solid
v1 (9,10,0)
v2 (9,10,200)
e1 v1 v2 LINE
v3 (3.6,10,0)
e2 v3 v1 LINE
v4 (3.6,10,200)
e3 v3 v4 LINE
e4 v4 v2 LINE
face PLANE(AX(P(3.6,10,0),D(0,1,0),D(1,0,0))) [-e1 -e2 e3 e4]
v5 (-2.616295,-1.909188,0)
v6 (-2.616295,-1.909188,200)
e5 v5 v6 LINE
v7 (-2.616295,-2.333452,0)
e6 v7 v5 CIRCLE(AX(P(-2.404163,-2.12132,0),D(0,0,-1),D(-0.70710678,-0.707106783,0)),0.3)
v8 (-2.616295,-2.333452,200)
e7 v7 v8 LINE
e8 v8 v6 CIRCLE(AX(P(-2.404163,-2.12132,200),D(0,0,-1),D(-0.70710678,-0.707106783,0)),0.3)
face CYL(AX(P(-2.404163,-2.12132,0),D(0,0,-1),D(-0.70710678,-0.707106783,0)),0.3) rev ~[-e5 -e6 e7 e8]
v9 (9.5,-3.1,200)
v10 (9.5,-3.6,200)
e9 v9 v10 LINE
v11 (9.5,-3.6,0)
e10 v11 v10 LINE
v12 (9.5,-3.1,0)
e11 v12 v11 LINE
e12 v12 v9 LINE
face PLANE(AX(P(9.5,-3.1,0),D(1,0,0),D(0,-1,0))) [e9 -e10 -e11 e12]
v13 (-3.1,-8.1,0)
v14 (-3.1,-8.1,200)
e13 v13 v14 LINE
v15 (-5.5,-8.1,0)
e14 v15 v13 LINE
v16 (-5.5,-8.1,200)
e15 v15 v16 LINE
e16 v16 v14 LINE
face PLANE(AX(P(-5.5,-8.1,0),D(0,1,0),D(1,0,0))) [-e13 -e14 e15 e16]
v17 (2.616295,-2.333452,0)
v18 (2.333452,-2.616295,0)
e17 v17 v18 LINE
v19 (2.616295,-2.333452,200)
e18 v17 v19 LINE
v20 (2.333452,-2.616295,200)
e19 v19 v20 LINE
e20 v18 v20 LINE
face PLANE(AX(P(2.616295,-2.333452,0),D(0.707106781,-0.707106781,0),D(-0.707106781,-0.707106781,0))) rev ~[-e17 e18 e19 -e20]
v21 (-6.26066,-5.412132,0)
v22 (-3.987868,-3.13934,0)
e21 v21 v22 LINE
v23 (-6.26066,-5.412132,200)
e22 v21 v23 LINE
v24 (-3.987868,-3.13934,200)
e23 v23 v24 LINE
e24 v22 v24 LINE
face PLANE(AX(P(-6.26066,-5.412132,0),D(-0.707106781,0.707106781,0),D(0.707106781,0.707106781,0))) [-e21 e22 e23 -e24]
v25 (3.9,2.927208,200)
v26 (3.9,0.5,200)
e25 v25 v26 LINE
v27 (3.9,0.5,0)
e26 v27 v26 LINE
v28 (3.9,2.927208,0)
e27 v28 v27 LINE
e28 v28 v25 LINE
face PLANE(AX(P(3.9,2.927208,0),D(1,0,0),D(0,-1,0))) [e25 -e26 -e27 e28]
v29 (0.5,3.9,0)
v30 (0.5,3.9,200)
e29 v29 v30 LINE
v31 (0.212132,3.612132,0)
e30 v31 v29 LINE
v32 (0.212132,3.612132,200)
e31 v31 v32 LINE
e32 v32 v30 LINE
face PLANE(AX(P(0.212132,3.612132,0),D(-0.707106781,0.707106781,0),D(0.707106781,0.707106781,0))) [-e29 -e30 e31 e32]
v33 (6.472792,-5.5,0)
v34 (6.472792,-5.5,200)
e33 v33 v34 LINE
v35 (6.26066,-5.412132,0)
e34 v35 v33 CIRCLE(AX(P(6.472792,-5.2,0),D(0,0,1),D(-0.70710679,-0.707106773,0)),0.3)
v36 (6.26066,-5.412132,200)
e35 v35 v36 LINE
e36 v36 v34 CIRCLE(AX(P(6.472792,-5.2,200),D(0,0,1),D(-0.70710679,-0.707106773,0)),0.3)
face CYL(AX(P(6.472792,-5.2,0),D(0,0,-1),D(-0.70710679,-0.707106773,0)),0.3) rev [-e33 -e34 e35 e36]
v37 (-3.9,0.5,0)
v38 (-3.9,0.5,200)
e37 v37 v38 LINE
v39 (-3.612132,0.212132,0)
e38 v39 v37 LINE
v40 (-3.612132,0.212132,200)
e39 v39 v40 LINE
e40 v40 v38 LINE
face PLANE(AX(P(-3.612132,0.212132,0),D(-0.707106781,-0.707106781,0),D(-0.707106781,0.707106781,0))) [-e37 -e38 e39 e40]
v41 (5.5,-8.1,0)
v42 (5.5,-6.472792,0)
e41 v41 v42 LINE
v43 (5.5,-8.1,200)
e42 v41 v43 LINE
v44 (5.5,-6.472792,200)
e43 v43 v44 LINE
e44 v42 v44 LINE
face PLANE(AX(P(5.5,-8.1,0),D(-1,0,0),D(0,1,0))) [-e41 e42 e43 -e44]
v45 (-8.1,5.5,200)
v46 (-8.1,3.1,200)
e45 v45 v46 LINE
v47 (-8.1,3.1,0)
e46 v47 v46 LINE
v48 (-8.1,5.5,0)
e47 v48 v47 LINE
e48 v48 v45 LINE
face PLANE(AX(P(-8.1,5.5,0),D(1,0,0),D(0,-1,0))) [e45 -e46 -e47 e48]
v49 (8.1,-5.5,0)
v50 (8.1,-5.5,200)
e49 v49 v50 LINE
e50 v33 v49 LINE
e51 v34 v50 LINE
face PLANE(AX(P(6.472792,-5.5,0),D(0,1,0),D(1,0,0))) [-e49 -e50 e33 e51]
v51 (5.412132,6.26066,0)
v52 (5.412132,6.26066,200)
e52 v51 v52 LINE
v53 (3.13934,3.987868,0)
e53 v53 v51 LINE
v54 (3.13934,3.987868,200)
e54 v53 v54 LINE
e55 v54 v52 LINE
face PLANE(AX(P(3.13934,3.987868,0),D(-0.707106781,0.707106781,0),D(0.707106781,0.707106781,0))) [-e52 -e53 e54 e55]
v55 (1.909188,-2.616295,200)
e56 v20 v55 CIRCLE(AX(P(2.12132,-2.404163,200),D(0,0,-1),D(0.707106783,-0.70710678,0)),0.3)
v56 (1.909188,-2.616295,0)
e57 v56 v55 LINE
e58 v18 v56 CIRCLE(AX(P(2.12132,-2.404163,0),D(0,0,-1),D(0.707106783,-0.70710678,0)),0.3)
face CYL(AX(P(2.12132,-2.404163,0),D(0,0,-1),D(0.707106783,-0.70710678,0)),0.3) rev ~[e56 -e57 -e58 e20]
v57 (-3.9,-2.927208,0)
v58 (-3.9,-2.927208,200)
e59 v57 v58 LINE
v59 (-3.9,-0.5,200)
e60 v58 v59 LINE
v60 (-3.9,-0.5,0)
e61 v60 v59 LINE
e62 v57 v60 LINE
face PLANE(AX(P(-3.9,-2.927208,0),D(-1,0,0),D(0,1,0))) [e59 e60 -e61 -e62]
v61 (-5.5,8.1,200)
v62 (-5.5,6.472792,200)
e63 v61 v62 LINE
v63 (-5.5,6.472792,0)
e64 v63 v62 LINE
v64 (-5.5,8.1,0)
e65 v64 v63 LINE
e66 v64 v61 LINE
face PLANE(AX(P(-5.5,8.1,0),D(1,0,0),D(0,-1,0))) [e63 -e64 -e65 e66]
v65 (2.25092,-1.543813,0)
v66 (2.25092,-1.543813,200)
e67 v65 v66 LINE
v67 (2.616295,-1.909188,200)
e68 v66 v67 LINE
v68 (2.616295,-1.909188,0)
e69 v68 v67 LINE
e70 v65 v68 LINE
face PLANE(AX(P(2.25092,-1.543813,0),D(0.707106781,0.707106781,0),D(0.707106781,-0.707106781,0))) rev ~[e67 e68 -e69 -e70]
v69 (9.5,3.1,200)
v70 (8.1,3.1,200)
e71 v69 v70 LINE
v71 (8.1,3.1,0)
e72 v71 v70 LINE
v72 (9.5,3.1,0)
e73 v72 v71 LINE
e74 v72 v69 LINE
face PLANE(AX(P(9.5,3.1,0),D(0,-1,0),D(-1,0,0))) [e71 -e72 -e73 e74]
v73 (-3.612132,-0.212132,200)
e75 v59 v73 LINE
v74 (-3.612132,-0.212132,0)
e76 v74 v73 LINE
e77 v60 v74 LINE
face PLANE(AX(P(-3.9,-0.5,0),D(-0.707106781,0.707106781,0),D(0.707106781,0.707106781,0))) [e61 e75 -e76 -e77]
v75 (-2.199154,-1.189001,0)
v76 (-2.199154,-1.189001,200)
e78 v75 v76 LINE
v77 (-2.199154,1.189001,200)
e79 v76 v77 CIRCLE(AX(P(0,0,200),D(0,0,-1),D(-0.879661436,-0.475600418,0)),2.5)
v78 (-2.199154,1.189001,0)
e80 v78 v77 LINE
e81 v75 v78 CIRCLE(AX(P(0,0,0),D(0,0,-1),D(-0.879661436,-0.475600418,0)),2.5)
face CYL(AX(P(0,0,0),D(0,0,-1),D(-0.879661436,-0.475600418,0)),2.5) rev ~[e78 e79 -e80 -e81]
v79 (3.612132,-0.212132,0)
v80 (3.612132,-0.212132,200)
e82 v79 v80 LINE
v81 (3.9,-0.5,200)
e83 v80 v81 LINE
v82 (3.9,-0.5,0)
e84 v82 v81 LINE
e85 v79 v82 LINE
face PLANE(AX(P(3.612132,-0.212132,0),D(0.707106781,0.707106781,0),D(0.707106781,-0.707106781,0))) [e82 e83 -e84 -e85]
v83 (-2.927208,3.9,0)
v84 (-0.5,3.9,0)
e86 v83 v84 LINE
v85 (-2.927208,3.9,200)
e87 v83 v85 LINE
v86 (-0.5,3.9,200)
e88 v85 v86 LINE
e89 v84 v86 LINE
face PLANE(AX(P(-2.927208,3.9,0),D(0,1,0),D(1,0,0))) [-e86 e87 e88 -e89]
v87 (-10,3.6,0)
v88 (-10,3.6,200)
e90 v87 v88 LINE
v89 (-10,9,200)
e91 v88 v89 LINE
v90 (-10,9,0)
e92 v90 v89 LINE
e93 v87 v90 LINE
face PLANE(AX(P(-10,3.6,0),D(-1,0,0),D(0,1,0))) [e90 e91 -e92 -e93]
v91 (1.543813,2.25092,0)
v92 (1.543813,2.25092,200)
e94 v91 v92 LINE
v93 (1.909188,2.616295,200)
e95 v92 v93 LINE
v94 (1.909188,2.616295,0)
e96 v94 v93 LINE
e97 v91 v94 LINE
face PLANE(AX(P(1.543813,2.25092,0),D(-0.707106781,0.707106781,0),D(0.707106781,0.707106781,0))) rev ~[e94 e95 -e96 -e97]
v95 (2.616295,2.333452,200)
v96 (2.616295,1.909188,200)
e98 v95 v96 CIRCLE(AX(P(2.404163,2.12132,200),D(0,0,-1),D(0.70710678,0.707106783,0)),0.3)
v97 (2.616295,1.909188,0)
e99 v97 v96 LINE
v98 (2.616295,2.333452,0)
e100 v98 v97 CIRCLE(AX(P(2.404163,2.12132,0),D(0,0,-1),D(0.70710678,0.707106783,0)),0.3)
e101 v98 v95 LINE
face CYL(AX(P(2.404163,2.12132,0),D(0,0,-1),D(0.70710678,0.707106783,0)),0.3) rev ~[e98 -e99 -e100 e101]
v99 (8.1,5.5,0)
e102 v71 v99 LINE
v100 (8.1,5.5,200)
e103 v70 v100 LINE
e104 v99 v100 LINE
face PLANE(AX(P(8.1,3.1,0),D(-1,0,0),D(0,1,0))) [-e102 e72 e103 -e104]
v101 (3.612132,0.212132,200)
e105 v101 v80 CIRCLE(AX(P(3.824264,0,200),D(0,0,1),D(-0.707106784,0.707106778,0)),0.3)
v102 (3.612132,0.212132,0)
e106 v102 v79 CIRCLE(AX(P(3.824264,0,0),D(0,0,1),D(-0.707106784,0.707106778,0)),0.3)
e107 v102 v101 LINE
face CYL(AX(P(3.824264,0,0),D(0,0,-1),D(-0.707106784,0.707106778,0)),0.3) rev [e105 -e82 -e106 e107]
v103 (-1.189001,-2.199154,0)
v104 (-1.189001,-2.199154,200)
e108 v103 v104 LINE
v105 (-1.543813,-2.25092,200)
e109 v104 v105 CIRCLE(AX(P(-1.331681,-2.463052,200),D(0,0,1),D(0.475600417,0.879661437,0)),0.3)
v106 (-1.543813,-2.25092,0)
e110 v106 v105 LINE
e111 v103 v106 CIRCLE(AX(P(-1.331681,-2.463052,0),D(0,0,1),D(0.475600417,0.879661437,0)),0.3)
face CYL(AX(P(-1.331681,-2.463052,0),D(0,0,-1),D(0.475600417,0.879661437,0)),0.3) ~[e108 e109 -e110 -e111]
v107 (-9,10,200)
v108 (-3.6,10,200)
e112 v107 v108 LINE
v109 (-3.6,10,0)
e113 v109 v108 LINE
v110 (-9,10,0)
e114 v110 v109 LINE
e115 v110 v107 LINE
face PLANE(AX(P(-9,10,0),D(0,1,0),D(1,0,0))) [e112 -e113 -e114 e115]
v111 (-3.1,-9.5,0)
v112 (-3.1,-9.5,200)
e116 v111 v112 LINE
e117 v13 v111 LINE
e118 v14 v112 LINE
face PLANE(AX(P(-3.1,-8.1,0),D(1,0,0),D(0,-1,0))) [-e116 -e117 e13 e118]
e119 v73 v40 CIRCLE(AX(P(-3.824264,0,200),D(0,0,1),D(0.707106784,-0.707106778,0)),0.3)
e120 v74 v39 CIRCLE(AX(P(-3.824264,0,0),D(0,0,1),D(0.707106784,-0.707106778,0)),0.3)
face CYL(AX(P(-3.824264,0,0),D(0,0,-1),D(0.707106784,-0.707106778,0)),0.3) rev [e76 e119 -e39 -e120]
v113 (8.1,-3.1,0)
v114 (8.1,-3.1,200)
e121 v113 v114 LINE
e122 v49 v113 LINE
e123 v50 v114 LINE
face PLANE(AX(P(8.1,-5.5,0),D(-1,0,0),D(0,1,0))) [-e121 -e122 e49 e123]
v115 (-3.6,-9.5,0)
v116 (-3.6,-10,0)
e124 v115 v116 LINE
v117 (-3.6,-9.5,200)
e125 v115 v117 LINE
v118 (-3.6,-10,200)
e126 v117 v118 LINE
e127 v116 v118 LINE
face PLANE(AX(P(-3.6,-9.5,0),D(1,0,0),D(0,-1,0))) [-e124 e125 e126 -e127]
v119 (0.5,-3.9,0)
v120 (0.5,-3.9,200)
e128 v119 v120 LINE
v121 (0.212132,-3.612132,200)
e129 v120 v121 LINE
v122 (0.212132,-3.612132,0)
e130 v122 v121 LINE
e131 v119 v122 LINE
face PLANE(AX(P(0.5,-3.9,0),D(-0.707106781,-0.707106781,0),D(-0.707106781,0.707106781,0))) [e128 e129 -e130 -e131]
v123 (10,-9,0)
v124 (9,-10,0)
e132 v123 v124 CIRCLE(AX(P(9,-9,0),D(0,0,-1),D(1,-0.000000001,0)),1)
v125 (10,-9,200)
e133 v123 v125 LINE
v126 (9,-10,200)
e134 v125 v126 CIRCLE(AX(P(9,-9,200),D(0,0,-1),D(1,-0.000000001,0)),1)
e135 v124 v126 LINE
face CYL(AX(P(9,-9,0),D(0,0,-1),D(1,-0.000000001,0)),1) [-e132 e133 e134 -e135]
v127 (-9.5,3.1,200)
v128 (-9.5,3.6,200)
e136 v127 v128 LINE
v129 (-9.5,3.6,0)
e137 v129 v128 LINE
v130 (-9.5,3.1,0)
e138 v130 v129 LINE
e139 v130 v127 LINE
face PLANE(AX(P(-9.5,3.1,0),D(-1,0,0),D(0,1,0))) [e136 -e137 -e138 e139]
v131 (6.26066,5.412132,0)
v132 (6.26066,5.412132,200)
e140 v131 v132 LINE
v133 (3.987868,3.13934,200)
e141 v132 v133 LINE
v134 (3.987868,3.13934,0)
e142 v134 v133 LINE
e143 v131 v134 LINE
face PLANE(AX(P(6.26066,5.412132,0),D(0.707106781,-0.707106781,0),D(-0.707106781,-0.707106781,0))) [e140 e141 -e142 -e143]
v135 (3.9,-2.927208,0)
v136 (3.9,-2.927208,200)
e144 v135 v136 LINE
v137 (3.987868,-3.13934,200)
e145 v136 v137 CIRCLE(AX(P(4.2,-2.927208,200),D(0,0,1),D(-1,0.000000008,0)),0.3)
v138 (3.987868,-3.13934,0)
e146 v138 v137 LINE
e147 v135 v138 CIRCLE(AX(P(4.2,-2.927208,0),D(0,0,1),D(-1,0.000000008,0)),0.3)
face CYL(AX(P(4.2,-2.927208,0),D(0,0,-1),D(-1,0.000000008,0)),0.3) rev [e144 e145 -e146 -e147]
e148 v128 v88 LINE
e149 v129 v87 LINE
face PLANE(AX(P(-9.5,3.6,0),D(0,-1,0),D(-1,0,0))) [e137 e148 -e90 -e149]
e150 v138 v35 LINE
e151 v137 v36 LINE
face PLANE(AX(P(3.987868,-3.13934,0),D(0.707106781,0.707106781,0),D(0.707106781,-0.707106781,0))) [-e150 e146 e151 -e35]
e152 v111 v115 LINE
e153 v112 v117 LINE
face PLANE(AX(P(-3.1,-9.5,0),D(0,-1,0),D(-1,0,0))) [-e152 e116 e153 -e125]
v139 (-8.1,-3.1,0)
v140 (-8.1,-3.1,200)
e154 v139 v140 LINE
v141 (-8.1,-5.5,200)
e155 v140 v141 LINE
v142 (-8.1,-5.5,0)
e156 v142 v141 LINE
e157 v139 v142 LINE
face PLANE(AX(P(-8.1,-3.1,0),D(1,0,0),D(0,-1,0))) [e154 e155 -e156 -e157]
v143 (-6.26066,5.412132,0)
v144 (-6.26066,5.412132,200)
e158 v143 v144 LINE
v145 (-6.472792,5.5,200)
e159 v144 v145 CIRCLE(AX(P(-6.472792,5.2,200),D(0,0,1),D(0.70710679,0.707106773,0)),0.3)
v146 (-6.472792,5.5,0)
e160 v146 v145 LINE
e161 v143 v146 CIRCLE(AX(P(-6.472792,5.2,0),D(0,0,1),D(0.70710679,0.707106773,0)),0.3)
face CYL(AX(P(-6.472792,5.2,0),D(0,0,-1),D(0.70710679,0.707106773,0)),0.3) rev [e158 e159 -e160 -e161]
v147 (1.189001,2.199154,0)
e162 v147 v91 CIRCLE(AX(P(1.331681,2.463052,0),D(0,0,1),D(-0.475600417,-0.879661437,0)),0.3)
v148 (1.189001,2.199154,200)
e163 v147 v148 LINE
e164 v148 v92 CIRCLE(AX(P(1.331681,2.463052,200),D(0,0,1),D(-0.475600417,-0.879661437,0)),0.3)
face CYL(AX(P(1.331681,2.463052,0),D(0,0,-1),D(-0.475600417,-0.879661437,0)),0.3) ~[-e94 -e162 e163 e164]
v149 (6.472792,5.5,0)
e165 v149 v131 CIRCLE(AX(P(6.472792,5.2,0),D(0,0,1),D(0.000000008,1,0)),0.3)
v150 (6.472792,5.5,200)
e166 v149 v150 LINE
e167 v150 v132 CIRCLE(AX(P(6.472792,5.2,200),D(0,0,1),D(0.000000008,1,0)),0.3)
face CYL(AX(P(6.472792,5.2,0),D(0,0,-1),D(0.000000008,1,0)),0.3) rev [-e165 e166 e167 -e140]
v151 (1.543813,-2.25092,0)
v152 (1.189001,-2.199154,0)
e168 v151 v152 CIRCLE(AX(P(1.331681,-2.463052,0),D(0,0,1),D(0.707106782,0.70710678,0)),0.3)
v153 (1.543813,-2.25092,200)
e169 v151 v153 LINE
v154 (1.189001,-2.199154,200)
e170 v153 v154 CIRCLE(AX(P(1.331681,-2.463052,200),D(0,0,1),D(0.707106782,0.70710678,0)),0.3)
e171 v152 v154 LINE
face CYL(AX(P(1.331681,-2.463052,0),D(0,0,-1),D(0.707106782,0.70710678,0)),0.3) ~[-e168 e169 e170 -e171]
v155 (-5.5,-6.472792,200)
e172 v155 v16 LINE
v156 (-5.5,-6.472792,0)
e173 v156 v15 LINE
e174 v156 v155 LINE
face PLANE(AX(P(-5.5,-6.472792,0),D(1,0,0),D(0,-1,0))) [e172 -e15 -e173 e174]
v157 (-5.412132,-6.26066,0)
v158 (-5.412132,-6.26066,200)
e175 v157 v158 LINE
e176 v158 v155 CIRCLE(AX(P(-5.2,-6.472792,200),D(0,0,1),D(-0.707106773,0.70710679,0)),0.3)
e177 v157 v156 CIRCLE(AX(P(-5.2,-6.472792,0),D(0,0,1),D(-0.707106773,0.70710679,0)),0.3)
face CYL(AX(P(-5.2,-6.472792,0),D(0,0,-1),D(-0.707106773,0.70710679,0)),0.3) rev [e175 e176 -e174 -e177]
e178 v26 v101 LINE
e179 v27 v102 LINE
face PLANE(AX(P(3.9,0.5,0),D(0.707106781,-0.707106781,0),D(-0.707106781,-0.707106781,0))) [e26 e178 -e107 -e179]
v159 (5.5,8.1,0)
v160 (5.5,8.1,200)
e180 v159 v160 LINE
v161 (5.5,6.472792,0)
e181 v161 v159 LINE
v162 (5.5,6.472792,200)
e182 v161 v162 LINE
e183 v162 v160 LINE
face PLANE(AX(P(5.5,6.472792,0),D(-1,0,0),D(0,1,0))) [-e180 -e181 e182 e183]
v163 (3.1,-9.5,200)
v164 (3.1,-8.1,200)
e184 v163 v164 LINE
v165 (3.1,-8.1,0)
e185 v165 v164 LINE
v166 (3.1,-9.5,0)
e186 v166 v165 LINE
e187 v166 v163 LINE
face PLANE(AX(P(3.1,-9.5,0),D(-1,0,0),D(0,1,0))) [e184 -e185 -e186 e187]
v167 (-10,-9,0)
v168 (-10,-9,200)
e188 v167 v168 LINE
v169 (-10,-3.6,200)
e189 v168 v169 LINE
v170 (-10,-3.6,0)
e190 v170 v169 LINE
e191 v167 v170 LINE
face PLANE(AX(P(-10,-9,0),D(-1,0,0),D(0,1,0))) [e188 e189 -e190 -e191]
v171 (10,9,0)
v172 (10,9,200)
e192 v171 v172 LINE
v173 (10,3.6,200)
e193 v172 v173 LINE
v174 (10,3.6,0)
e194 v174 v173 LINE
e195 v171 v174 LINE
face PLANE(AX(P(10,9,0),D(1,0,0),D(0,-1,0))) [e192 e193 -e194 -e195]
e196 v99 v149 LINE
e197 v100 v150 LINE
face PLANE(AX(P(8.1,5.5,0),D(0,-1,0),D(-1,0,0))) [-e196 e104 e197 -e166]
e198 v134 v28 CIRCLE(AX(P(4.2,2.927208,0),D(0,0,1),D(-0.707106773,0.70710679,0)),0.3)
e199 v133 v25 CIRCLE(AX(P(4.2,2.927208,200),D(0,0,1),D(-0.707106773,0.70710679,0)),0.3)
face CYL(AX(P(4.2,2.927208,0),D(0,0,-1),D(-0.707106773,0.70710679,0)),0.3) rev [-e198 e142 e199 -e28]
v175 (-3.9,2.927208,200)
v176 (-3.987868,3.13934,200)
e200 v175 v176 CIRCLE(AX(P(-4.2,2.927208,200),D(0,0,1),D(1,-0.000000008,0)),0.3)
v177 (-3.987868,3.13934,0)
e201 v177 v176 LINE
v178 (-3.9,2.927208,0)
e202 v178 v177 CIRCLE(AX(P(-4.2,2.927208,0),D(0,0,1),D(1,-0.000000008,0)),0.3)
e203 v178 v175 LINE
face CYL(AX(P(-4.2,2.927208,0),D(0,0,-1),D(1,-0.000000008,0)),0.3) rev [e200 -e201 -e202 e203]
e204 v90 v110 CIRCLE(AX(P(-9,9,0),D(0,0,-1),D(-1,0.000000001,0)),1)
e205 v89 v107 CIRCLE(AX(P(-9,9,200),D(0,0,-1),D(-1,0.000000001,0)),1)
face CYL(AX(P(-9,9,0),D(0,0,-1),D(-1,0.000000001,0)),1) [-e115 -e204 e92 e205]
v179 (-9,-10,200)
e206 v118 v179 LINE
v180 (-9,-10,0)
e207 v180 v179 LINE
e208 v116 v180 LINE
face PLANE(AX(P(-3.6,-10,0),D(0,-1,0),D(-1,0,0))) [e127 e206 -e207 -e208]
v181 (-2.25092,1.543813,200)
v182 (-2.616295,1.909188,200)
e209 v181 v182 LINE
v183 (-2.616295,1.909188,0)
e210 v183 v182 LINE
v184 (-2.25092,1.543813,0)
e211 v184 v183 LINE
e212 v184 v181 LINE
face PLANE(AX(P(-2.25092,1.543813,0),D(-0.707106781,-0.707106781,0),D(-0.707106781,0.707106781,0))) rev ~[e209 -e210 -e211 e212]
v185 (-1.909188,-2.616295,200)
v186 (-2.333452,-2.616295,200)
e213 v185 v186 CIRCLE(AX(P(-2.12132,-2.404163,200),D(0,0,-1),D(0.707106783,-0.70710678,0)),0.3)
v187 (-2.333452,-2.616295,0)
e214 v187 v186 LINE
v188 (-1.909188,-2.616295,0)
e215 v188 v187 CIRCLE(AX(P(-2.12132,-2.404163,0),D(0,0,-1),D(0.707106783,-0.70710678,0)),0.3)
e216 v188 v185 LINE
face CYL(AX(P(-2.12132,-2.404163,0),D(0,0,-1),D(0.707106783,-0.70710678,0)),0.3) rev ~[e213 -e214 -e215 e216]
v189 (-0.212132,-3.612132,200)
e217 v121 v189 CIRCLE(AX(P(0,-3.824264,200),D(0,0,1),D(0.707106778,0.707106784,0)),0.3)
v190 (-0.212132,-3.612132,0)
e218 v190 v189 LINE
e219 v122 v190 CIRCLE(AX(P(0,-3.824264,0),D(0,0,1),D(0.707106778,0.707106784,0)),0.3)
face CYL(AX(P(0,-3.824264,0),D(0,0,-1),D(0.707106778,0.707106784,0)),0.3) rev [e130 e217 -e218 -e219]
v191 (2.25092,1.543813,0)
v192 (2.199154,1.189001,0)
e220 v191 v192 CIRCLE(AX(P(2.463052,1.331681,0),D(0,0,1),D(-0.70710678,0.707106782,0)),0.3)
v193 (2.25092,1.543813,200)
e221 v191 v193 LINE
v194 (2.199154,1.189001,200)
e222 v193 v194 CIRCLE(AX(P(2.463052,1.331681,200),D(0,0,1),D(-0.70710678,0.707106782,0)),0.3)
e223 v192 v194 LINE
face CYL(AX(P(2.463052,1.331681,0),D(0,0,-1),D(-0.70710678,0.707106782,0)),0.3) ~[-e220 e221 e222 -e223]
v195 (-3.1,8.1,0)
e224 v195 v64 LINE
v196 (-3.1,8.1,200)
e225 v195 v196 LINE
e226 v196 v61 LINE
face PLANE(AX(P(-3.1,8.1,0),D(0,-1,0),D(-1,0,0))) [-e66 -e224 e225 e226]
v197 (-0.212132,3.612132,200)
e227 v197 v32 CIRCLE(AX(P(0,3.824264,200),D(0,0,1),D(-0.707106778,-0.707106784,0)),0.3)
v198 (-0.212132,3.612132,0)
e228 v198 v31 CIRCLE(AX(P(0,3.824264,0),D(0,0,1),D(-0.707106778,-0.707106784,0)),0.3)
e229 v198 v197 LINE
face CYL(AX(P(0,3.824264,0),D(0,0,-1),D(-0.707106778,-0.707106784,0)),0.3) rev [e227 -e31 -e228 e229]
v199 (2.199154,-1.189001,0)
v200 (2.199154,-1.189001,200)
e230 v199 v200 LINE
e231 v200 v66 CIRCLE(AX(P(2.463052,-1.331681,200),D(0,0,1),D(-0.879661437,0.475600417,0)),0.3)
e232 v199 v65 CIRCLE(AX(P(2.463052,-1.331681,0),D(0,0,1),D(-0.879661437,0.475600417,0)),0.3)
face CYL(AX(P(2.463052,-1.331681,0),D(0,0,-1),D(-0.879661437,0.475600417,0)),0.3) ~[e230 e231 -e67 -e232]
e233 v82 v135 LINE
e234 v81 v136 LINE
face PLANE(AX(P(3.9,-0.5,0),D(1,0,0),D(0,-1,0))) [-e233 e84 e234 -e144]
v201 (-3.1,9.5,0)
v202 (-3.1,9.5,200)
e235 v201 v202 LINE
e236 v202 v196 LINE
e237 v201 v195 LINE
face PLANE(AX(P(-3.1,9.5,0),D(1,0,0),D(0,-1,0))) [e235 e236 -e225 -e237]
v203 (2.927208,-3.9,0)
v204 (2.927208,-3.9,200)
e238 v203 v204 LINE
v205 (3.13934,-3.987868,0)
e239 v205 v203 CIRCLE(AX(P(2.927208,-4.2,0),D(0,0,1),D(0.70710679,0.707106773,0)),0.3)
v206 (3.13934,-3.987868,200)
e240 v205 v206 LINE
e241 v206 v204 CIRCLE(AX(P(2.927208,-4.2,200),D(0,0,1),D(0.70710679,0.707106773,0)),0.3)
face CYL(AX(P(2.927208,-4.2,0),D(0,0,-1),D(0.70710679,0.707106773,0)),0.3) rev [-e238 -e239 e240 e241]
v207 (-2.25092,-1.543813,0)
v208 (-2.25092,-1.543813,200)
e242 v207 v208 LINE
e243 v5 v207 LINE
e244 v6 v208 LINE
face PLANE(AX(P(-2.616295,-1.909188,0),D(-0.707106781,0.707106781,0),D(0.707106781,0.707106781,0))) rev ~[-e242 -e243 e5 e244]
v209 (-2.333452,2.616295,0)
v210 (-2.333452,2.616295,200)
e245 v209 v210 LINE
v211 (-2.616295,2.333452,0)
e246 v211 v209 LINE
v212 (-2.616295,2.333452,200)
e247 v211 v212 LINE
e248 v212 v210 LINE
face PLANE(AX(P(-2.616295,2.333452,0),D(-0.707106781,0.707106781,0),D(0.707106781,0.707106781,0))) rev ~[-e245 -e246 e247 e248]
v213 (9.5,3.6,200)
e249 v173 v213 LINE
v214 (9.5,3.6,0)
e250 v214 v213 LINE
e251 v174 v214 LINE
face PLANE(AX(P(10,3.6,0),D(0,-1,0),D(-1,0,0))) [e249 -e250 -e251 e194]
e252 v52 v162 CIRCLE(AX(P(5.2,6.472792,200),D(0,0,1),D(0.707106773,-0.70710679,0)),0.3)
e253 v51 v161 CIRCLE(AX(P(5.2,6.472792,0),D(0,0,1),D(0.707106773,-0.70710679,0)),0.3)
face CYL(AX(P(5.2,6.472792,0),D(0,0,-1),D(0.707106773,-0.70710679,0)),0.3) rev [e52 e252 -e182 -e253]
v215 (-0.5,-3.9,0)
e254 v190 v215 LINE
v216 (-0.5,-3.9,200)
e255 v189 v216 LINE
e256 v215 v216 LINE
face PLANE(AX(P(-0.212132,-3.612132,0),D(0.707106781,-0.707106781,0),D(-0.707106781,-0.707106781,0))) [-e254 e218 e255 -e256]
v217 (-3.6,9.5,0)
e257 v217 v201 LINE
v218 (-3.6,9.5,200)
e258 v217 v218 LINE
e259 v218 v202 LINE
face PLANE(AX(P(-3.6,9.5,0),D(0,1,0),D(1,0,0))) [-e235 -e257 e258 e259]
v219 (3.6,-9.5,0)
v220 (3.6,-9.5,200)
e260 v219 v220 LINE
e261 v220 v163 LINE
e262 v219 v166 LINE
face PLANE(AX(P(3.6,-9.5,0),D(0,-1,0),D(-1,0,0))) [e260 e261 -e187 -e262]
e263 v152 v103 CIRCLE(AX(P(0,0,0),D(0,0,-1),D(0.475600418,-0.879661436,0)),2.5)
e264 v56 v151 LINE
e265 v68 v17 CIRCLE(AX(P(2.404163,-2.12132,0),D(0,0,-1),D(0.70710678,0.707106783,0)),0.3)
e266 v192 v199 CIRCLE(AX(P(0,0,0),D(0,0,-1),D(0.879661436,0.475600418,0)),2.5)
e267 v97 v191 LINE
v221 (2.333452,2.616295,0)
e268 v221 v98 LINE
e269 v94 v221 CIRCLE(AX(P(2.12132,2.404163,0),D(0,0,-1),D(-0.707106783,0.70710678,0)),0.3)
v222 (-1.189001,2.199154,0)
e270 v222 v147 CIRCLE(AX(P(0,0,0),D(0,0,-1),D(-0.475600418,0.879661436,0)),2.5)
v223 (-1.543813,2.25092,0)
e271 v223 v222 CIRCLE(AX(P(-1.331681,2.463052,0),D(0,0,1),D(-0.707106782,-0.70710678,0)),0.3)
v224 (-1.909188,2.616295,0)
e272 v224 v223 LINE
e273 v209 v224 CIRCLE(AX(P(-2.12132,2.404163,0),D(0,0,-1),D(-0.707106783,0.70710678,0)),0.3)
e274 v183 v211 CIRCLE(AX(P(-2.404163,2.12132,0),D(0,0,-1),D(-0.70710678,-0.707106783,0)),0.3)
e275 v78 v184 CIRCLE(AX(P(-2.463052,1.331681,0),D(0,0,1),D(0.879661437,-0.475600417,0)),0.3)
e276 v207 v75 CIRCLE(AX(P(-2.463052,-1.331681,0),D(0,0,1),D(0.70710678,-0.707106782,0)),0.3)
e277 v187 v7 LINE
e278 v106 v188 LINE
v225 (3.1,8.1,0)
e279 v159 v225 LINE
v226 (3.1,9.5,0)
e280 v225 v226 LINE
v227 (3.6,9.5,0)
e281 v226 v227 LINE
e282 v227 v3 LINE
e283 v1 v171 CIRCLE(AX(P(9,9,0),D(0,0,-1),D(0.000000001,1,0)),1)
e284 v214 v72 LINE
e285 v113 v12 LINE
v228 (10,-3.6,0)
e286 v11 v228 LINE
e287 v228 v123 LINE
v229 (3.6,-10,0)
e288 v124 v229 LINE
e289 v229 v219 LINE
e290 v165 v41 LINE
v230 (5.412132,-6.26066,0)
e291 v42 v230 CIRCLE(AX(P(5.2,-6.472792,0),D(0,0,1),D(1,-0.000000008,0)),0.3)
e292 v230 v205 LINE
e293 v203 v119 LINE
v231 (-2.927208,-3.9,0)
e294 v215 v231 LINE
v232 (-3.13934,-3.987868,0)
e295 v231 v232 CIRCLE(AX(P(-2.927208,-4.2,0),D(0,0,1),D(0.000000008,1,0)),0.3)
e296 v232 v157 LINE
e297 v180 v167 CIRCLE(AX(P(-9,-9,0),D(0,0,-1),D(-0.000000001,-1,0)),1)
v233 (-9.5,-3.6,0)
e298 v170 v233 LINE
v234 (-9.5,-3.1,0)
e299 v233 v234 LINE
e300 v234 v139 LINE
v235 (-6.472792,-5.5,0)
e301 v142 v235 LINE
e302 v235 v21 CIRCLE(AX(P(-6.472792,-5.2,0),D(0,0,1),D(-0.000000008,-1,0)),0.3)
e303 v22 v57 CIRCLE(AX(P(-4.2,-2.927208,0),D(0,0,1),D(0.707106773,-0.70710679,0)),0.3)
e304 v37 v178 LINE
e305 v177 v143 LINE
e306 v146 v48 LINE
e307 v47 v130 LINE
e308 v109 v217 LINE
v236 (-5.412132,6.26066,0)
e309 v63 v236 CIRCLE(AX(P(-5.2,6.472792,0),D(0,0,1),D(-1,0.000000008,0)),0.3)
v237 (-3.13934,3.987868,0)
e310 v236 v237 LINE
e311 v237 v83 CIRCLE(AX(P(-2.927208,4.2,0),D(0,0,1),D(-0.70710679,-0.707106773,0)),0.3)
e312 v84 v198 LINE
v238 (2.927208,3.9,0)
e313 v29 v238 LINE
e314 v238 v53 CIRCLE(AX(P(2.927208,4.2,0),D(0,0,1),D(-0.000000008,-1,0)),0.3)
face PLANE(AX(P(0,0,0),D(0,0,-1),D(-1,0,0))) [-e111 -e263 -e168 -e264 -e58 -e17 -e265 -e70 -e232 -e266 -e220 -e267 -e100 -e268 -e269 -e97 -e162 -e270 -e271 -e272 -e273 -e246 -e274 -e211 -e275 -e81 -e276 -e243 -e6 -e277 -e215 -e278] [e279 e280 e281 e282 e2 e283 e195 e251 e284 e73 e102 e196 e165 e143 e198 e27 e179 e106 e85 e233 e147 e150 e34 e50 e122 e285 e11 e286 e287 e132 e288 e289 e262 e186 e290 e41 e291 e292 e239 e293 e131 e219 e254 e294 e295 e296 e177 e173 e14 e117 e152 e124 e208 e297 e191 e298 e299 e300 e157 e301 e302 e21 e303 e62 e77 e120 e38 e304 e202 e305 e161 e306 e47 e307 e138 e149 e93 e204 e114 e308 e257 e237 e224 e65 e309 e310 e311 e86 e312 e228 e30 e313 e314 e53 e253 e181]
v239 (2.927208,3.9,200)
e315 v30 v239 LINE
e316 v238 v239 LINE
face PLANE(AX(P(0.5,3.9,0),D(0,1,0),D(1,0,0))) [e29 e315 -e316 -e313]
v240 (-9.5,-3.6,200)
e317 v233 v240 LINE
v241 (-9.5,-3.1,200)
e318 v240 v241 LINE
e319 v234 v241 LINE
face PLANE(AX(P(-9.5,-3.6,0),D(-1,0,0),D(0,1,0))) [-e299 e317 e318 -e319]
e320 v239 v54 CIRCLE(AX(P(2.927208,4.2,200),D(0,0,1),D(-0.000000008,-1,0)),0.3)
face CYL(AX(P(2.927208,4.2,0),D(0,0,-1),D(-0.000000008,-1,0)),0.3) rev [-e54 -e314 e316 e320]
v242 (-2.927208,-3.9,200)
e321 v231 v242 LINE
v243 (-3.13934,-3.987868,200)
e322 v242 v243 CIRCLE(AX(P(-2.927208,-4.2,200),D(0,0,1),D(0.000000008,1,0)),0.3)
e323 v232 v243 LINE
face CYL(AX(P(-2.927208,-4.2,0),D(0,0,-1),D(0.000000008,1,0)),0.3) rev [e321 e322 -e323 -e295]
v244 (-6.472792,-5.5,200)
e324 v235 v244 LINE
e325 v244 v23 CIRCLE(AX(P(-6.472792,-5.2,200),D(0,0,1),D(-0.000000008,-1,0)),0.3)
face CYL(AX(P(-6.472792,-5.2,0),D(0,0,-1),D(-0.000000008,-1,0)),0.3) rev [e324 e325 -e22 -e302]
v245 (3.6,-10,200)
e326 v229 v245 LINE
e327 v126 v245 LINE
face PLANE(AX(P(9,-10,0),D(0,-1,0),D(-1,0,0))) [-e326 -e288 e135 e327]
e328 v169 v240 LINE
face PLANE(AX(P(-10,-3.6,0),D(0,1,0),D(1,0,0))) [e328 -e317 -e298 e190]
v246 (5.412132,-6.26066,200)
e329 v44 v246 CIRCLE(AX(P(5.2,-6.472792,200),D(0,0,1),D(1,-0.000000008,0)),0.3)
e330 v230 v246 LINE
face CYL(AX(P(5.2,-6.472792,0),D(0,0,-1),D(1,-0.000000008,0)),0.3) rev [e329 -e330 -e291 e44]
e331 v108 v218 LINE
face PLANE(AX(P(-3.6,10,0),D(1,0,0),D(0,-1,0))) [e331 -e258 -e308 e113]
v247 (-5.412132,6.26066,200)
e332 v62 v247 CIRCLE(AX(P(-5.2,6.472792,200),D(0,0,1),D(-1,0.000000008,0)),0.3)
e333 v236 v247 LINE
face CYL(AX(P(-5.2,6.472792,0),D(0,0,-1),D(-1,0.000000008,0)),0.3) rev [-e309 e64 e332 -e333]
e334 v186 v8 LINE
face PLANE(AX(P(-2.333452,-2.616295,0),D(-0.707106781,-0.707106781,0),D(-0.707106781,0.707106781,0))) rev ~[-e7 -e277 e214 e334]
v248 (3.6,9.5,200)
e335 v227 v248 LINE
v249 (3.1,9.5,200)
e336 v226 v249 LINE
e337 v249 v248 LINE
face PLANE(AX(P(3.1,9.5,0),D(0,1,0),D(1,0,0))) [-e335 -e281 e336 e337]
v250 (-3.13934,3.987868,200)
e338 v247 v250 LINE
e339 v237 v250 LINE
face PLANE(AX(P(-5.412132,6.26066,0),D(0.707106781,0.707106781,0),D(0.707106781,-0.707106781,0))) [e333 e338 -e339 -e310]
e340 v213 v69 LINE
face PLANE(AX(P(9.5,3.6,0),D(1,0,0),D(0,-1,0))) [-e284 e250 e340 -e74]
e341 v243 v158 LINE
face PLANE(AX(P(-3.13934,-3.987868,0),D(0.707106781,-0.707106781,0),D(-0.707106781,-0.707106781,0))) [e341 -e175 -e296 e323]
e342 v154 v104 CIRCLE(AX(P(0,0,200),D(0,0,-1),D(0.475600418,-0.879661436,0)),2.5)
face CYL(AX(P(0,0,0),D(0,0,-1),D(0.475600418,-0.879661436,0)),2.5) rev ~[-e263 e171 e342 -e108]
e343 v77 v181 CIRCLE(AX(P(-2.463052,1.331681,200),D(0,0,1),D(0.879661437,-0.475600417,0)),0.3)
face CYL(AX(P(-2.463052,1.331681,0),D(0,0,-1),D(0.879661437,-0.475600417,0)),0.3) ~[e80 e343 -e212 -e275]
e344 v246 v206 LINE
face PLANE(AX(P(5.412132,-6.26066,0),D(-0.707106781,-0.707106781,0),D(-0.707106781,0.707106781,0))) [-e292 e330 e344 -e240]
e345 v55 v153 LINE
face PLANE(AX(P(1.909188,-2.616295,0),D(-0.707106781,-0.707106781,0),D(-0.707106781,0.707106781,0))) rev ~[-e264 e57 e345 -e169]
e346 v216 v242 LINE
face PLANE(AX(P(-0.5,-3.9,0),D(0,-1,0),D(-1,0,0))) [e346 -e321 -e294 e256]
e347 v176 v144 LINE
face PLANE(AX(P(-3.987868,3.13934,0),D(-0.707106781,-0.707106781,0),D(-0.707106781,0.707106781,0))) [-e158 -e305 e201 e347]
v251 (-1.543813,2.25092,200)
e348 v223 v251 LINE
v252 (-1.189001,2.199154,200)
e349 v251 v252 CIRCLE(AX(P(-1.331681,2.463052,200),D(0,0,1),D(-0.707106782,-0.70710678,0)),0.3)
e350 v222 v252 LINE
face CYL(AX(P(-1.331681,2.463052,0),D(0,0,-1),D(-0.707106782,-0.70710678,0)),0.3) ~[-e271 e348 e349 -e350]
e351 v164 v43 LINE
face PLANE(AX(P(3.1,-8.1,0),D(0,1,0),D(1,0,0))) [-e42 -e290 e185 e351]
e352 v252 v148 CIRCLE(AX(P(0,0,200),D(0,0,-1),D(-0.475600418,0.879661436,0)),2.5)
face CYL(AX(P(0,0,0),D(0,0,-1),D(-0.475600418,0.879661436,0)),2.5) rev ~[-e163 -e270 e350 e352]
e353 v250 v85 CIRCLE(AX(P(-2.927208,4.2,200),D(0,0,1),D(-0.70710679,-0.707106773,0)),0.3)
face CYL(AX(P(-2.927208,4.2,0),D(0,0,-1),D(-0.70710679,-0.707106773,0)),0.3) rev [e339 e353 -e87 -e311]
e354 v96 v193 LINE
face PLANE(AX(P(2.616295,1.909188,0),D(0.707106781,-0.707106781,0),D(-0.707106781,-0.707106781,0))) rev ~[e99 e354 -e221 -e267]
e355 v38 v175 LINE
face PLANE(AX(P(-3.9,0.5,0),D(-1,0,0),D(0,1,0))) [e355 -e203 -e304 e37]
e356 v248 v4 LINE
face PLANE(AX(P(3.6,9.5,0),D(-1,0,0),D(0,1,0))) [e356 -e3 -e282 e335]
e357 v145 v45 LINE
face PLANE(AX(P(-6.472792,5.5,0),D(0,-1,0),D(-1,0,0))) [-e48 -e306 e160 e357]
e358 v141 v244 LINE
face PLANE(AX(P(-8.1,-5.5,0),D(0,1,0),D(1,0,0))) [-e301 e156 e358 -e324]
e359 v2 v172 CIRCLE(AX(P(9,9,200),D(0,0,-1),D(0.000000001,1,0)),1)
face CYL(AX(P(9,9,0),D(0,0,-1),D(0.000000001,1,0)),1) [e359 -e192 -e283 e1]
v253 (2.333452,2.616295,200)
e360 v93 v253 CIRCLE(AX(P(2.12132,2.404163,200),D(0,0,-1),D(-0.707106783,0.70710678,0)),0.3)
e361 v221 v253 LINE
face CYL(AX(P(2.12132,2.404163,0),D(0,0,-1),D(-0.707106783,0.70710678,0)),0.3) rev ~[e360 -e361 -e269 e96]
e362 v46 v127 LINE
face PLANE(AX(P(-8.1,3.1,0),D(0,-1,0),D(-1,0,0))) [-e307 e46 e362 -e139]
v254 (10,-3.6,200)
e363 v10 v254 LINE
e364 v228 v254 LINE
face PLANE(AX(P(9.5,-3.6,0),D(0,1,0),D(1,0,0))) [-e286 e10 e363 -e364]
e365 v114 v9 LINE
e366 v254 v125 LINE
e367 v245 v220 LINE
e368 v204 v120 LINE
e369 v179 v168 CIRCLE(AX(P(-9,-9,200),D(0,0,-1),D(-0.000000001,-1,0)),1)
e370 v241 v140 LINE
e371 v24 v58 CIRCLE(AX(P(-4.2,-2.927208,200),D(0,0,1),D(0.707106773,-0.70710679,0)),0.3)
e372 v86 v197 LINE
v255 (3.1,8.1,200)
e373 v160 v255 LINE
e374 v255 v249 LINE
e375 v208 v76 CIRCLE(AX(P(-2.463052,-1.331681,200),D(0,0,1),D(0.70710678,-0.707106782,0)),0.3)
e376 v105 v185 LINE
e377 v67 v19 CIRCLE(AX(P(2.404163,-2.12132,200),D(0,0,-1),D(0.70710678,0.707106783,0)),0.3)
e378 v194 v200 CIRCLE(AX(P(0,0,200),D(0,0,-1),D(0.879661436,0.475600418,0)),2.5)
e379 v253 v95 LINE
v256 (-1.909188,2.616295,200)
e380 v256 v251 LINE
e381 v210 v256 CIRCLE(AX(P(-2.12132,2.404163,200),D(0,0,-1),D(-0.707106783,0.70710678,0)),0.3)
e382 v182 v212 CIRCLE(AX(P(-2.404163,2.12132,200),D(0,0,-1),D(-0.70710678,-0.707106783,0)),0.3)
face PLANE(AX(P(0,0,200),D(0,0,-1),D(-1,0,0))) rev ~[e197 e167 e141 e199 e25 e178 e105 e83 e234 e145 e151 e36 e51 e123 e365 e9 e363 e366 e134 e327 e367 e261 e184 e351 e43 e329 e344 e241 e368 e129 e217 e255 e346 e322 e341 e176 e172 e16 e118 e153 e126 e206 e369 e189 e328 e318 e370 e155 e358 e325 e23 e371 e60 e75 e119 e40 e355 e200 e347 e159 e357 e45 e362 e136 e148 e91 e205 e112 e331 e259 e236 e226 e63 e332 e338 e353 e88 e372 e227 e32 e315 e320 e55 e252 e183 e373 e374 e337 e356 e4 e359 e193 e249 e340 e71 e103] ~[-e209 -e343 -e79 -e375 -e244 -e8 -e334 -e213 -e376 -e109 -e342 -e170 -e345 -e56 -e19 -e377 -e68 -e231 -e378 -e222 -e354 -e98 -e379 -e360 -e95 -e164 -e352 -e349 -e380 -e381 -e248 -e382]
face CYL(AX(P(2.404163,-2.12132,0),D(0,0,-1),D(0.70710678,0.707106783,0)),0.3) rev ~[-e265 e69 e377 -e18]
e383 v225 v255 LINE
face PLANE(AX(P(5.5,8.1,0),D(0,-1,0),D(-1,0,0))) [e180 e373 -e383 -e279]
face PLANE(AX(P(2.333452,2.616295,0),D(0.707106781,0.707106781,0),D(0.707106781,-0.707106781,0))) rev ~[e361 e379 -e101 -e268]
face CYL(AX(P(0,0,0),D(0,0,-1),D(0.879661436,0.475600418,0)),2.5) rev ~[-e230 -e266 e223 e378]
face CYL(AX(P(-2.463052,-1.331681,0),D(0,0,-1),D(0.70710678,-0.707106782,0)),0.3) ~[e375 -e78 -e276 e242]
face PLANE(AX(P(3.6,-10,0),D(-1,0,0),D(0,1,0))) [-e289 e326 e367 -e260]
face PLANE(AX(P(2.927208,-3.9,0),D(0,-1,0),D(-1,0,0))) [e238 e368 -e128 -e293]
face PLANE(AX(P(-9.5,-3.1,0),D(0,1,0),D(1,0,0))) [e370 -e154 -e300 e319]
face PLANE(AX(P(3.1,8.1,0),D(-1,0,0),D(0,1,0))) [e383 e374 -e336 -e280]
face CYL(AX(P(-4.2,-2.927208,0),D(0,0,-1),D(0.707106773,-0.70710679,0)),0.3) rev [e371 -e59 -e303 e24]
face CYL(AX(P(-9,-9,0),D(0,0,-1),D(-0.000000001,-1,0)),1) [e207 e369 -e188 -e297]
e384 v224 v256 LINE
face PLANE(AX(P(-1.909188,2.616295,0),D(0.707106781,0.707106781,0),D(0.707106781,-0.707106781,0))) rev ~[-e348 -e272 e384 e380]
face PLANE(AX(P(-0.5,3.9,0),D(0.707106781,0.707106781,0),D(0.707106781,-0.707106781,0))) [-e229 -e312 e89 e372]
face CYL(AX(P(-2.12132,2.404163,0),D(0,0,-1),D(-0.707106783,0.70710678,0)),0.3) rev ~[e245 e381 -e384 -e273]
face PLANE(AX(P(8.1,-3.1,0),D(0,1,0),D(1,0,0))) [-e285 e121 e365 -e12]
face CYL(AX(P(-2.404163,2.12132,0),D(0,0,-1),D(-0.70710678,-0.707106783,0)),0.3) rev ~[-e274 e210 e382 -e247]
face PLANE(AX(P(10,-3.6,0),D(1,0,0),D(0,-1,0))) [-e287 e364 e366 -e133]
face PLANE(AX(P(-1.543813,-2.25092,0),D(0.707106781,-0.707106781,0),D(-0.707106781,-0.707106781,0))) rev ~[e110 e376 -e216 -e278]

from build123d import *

# Parameters (mm, degrees)
EXTRUDE_1_DEPTH = 200


with BuildPart() as part:
    # Эскиз2 → Бобышка-Вытянуть1 (new body)
    with BuildSketch(Plane.XY):
        with BuildLine():
            Line((3.9, -0.5), (3.9, -2.927207794))
            ThreePointArc((3.9, -2.927207794), (3.92283614, -3.042012824), (3.987867966, -3.139339828))
            Line((3.987867966, -3.139339828), (6.260660172, -5.412132034))
            ThreePointArc((6.260660172, -5.412132034), (6.357987176, -5.47716386), (6.472792206, -5.5))
            Line((6.472792206, -5.5), (8.1, -5.5))
            Line((8.1, -5.5), (8.1, -3.1))
            Line((8.1, -3.1), (9.5, -3.1))
            Line((9.5, -3.1), (9.5, -3.6))
            Line((9.5, -3.6), (10, -3.6))
            Line((10, -3.6), (10, -9))
            ThreePointArc((10, -9), (9.707106781, -9.707106781), (9, -10))
            Line((9, -10), (3.6, -10))
            Line((3.6, -10), (3.6, -9.5))
            Line((3.6, -9.5), (3.1, -9.5))
            Line((3.1, -9.5), (3.1, -8.1))
            Line((3.1, -8.1), (5.5, -8.1))
            Line((5.5, -8.1), (5.5, -6.472792206))
            ThreePointArc((5.5, -6.472792206), (5.47716386, -6.357987176), (5.412132034, -6.260660172))
            Line((5.412132034, -6.260660172), (3.139339828, -3.987867966))
            ThreePointArc((3.139339828, -3.987867966), (3.042012824, -3.92283614), (2.927207794, -3.9))
            Line((2.927207794, -3.9), (0.5, -3.9))
            Line((0.5, -3.9), (0.212132034, -3.612132034))
            ThreePointArc((0.212132034, -3.612132034), (0, -3.524264069), (-0.212132034, -3.612132034))
            Line((-0.212132034, -3.612132034), (-0.5, -3.9))
            Line((-0.5, -3.9), (-2.927207794, -3.9))
            ThreePointArc((-2.927207794, -3.9), (-3.042012824, -3.92283614), (-3.139339828, -3.987867966))
            Line((-3.139339828, -3.987867966), (-5.412132034, -6.260660172))
            ThreePointArc((-5.412132034, -6.260660172), (-5.47716386, -6.357987176), (-5.5, -6.472792206))
            Line((-5.5, -6.472792206), (-5.5, -8.1))
            Line((-5.5, -8.1), (-3.1, -8.1))
            Line((-3.1, -8.1), (-3.1, -9.5))
            Line((-3.1, -9.5), (-3.6, -9.5))
            Line((-3.6, -9.5), (-3.6, -10))
            Line((-3.6, -10), (-9, -10))
            ThreePointArc((-9, -10), (-9.707106781, -9.707106781), (-10, -9))
            Line((-10, -9), (-10, -3.6))
            Line((-10, -3.6), (-9.5, -3.6))
            Line((-9.5, -3.6), (-9.5, -3.1))
            Line((-9.5, -3.1), (-8.1, -3.1))
            Line((-8.1, -3.1), (-8.1, -5.5))
            Line((-8.1, -5.5), (-6.472792206, -5.5))
            ThreePointArc((-6.472792206, -5.5), (-6.357987176, -5.47716386), (-6.260660172, -5.412132034))
            Line((-6.260660172, -5.412132034), (-3.987867966, -3.139339828))
            ThreePointArc((-3.987867966, -3.139339828), (-3.92283614, -3.042012824), (-3.9, -2.927207794))
            Line((-3.9, -2.927207794), (-3.9, -0.5))
            Line((-3.9, -0.5), (-3.612132034, -0.212132034))
            ThreePointArc((-3.612132034, -0.212132034), (-3.524264069, 0), (-3.612132034, 0.212132034))
            Line((-3.612132034, 0.212132034), (-3.9, 0.5))
            Line((-3.9, 0.5), (-3.9, 2.927207794))
            ThreePointArc((-3.9, 2.927207794), (-3.92283614, 3.042012824), (-3.987867966, 3.139339828))
            Line((-3.987867966, 3.139339828), (-6.260660172, 5.412132034))
            ThreePointArc((-6.260660172, 5.412132034), (-6.357987176, 5.47716386), (-6.472792206, 5.5))
            Line((-6.472792206, 5.5), (-8.1, 5.5))
            Line((-8.1, 5.5), (-8.1, 3.1))
            Line((-8.1, 3.1), (-9.5, 3.1))
            Line((-9.5, 3.1), (-9.5, 3.6))
            Line((-9.5, 3.6), (-10, 3.6))
            Line((-10, 3.6), (-10, 9))
            ThreePointArc((-10, 9), (-9.707106781, 9.707106781), (-9, 10))
            Line((-9, 10), (-3.6, 10))
            Line((-3.6, 10), (-3.6, 9.5))
            Line((-3.6, 9.5), (-3.1, 9.5))
            Line((-3.1, 9.5), (-3.1, 8.1))
            Line((-3.1, 8.1), (-5.5, 8.1))
            Line((-5.5, 8.1), (-5.5, 6.472792206))
            ThreePointArc((-5.5, 6.472792206), (-5.47716386, 6.357987176), (-5.412132034, 6.260660172))
            Line((-5.412132034, 6.260660172), (-3.139339828, 3.987867966))
            ThreePointArc((-3.139339828, 3.987867966), (-3.042012824, 3.92283614), (-2.927207794, 3.9))
            Line((-2.927207794, 3.9), (-0.5, 3.9))
            Line((-0.5, 3.9), (-0.212132034, 3.612132034))
            ThreePointArc((-0.212132034, 3.612132034), (0, 3.524264069), (0.212132034, 3.612132034))
            Line((0.212132034, 3.612132034), (0.5, 3.9))
            Line((0.5, 3.9), (2.927207794, 3.9))
            ThreePointArc((2.927207794, 3.9), (3.042012824, 3.92283614), (3.139339828, 3.987867966))
            Line((3.139339828, 3.987867966), (5.412132034, 6.260660172))
            ThreePointArc((5.412132034, 6.260660172), (5.47716386, 6.357987176), (5.5, 6.472792206))
            Line((5.5, 6.472792206), (5.5, 8.1))
            Line((5.5, 8.1), (3.1, 8.1))
            Line((3.1, 8.1), (3.1, 9.5))
            Line((3.1, 9.5), (3.6, 9.5))
            Line((3.6, 9.5), (3.6, 10))
            Line((3.6, 10), (9, 10))
            ThreePointArc((9, 10), (9.707106781, 9.707106781), (10, 9))
            Line((10, 9), (10, 3.6))
            Line((10, 3.6), (9.5, 3.6))
            Line((9.5, 3.6), (9.5, 3.1))
            Line((9.5, 3.1), (8.1, 3.1))
            Line((8.1, 3.1), (8.1, 5.5))
            Line((8.1, 5.5), (6.472792206, 5.5))
            ThreePointArc((6.472792206, 5.5), (6.357987176, 5.47716386), (6.260660172, 5.412132034))
            Line((6.260660172, 5.412132034), (3.987867966, 3.139339828))
            ThreePointArc((3.987867966, 3.139339828), (3.92283614, 3.042012824), (3.9, 2.927207794))
            Line((3.9, 2.927207794), (3.9, 0.5))
            Line((3.9, 0.5), (3.612132034, 0.212132034))
            ThreePointArc((3.612132034, 0.212132034), (3.524264069, 0), (3.612132034, -0.212132034))
            Line((3.612132034, -0.212132034), (3.9, -0.5))
        make_face()
        with BuildLine():
            Line((-1.909188309, 2.61629509), (-1.543813206, 2.250919987))
            ThreePointArc((-1.543813206, 2.250919987), (-1.374992046, 2.16619487), (-1.189001046, 2.19915359))
            ThreePointArc((-1.189001046, 2.19915359), (0, 2.5), (1.189001046, 2.19915359))
            ThreePointArc((1.189001046, 2.19915359), (1.374992046, 2.16619487), (1.543813206, 2.250919987))
            Line((1.543813206, 2.250919987), (1.909188309, 2.61629509))
            ThreePointArc((1.909188309, 2.61629509), (2.121320344, 2.704163056), (2.333452378, 2.61629509))
            Line((2.333452378, 2.61629509), (2.61629509, 2.333452378))
            ThreePointArc((2.61629509, 2.333452378), (2.704163056, 2.121320344), (2.61629509, 1.909188309))
            Line((2.61629509, 1.909188309), (2.250919987, 1.543813206))
            ThreePointArc((2.250919987, 1.543813206), (2.16619487, 1.374992046), (2.19915359, 1.189001046))
            ThreePointArc((2.19915359, 1.189001046), (2.5, 0), (2.19915359, -1.189001046))
            ThreePointArc((2.19915359, -1.189001046), (2.16619487, -1.374992046), (2.250919987, -1.543813206))
            Line((2.250919987, -1.543813206), (2.61629509, -1.909188309))
            ThreePointArc((2.61629509, -1.909188309), (2.704163056, -2.121320344), (2.61629509, -2.333452378))
            Line((2.61629509, -2.333452378), (2.333452378, -2.61629509))
            ThreePointArc((2.333452378, -2.61629509), (2.121320344, -2.704163056), (1.909188309, -2.61629509))
            Line((1.909188309, -2.61629509), (1.543813206, -2.250919987))
            ThreePointArc((1.543813206, -2.250919987), (1.374992046, -2.16619487), (1.189001046, -2.19915359))
            ThreePointArc((1.189001046, -2.19915359), (0, -2.5), (-1.189001046, -2.19915359))
            ThreePointArc((-1.189001046, -2.19915359), (-1.374992046, -2.16619487), (-1.543813206, -2.250919987))
            Line((-1.543813206, -2.250919987), (-1.909188309, -2.61629509))
            ThreePointArc((-1.909188309, -2.61629509), (-2.121320344, -2.704163056), (-2.333452378, -2.61629509))
            Line((-2.333452378, -2.61629509), (-2.61629509, -2.333452378))
            ThreePointArc((-2.61629509, -2.333452378), (-2.704163056, -2.121320344), (-2.61629509, -1.909188309))
            Line((-2.61629509, -1.909188309), (-2.250919987, -1.543813206))
            ThreePointArc((-2.250919987, -1.543813206), (-2.16619487, -1.374992046), (-2.19915359, -1.189001046))
            ThreePointArc((-2.19915359, -1.189001046), (-2.5, 0), (-2.19915359, 1.189001046))
            ThreePointArc((-2.19915359, 1.189001046), (-2.16619487, 1.374992046), (-2.250919987, 1.543813206))
            Line((-2.250919987, 1.543813206), (-2.61629509, 1.909188309))
            ThreePointArc((-2.61629509, 1.909188309), (-2.704163056, 2.121320344), (-2.61629509, 2.333452378))
            Line((-2.61629509, 2.333452378), (-2.333452378, 2.61629509))
            ThreePointArc((-2.333452378, 2.61629509), (-2.121320344, 2.704163056), (-1.909188309, 2.61629509))
        make_face(mode=Mode.SUBTRACT)
    extrude(amount=EXTRUDE_1_DEPTH)


solid = part.part
